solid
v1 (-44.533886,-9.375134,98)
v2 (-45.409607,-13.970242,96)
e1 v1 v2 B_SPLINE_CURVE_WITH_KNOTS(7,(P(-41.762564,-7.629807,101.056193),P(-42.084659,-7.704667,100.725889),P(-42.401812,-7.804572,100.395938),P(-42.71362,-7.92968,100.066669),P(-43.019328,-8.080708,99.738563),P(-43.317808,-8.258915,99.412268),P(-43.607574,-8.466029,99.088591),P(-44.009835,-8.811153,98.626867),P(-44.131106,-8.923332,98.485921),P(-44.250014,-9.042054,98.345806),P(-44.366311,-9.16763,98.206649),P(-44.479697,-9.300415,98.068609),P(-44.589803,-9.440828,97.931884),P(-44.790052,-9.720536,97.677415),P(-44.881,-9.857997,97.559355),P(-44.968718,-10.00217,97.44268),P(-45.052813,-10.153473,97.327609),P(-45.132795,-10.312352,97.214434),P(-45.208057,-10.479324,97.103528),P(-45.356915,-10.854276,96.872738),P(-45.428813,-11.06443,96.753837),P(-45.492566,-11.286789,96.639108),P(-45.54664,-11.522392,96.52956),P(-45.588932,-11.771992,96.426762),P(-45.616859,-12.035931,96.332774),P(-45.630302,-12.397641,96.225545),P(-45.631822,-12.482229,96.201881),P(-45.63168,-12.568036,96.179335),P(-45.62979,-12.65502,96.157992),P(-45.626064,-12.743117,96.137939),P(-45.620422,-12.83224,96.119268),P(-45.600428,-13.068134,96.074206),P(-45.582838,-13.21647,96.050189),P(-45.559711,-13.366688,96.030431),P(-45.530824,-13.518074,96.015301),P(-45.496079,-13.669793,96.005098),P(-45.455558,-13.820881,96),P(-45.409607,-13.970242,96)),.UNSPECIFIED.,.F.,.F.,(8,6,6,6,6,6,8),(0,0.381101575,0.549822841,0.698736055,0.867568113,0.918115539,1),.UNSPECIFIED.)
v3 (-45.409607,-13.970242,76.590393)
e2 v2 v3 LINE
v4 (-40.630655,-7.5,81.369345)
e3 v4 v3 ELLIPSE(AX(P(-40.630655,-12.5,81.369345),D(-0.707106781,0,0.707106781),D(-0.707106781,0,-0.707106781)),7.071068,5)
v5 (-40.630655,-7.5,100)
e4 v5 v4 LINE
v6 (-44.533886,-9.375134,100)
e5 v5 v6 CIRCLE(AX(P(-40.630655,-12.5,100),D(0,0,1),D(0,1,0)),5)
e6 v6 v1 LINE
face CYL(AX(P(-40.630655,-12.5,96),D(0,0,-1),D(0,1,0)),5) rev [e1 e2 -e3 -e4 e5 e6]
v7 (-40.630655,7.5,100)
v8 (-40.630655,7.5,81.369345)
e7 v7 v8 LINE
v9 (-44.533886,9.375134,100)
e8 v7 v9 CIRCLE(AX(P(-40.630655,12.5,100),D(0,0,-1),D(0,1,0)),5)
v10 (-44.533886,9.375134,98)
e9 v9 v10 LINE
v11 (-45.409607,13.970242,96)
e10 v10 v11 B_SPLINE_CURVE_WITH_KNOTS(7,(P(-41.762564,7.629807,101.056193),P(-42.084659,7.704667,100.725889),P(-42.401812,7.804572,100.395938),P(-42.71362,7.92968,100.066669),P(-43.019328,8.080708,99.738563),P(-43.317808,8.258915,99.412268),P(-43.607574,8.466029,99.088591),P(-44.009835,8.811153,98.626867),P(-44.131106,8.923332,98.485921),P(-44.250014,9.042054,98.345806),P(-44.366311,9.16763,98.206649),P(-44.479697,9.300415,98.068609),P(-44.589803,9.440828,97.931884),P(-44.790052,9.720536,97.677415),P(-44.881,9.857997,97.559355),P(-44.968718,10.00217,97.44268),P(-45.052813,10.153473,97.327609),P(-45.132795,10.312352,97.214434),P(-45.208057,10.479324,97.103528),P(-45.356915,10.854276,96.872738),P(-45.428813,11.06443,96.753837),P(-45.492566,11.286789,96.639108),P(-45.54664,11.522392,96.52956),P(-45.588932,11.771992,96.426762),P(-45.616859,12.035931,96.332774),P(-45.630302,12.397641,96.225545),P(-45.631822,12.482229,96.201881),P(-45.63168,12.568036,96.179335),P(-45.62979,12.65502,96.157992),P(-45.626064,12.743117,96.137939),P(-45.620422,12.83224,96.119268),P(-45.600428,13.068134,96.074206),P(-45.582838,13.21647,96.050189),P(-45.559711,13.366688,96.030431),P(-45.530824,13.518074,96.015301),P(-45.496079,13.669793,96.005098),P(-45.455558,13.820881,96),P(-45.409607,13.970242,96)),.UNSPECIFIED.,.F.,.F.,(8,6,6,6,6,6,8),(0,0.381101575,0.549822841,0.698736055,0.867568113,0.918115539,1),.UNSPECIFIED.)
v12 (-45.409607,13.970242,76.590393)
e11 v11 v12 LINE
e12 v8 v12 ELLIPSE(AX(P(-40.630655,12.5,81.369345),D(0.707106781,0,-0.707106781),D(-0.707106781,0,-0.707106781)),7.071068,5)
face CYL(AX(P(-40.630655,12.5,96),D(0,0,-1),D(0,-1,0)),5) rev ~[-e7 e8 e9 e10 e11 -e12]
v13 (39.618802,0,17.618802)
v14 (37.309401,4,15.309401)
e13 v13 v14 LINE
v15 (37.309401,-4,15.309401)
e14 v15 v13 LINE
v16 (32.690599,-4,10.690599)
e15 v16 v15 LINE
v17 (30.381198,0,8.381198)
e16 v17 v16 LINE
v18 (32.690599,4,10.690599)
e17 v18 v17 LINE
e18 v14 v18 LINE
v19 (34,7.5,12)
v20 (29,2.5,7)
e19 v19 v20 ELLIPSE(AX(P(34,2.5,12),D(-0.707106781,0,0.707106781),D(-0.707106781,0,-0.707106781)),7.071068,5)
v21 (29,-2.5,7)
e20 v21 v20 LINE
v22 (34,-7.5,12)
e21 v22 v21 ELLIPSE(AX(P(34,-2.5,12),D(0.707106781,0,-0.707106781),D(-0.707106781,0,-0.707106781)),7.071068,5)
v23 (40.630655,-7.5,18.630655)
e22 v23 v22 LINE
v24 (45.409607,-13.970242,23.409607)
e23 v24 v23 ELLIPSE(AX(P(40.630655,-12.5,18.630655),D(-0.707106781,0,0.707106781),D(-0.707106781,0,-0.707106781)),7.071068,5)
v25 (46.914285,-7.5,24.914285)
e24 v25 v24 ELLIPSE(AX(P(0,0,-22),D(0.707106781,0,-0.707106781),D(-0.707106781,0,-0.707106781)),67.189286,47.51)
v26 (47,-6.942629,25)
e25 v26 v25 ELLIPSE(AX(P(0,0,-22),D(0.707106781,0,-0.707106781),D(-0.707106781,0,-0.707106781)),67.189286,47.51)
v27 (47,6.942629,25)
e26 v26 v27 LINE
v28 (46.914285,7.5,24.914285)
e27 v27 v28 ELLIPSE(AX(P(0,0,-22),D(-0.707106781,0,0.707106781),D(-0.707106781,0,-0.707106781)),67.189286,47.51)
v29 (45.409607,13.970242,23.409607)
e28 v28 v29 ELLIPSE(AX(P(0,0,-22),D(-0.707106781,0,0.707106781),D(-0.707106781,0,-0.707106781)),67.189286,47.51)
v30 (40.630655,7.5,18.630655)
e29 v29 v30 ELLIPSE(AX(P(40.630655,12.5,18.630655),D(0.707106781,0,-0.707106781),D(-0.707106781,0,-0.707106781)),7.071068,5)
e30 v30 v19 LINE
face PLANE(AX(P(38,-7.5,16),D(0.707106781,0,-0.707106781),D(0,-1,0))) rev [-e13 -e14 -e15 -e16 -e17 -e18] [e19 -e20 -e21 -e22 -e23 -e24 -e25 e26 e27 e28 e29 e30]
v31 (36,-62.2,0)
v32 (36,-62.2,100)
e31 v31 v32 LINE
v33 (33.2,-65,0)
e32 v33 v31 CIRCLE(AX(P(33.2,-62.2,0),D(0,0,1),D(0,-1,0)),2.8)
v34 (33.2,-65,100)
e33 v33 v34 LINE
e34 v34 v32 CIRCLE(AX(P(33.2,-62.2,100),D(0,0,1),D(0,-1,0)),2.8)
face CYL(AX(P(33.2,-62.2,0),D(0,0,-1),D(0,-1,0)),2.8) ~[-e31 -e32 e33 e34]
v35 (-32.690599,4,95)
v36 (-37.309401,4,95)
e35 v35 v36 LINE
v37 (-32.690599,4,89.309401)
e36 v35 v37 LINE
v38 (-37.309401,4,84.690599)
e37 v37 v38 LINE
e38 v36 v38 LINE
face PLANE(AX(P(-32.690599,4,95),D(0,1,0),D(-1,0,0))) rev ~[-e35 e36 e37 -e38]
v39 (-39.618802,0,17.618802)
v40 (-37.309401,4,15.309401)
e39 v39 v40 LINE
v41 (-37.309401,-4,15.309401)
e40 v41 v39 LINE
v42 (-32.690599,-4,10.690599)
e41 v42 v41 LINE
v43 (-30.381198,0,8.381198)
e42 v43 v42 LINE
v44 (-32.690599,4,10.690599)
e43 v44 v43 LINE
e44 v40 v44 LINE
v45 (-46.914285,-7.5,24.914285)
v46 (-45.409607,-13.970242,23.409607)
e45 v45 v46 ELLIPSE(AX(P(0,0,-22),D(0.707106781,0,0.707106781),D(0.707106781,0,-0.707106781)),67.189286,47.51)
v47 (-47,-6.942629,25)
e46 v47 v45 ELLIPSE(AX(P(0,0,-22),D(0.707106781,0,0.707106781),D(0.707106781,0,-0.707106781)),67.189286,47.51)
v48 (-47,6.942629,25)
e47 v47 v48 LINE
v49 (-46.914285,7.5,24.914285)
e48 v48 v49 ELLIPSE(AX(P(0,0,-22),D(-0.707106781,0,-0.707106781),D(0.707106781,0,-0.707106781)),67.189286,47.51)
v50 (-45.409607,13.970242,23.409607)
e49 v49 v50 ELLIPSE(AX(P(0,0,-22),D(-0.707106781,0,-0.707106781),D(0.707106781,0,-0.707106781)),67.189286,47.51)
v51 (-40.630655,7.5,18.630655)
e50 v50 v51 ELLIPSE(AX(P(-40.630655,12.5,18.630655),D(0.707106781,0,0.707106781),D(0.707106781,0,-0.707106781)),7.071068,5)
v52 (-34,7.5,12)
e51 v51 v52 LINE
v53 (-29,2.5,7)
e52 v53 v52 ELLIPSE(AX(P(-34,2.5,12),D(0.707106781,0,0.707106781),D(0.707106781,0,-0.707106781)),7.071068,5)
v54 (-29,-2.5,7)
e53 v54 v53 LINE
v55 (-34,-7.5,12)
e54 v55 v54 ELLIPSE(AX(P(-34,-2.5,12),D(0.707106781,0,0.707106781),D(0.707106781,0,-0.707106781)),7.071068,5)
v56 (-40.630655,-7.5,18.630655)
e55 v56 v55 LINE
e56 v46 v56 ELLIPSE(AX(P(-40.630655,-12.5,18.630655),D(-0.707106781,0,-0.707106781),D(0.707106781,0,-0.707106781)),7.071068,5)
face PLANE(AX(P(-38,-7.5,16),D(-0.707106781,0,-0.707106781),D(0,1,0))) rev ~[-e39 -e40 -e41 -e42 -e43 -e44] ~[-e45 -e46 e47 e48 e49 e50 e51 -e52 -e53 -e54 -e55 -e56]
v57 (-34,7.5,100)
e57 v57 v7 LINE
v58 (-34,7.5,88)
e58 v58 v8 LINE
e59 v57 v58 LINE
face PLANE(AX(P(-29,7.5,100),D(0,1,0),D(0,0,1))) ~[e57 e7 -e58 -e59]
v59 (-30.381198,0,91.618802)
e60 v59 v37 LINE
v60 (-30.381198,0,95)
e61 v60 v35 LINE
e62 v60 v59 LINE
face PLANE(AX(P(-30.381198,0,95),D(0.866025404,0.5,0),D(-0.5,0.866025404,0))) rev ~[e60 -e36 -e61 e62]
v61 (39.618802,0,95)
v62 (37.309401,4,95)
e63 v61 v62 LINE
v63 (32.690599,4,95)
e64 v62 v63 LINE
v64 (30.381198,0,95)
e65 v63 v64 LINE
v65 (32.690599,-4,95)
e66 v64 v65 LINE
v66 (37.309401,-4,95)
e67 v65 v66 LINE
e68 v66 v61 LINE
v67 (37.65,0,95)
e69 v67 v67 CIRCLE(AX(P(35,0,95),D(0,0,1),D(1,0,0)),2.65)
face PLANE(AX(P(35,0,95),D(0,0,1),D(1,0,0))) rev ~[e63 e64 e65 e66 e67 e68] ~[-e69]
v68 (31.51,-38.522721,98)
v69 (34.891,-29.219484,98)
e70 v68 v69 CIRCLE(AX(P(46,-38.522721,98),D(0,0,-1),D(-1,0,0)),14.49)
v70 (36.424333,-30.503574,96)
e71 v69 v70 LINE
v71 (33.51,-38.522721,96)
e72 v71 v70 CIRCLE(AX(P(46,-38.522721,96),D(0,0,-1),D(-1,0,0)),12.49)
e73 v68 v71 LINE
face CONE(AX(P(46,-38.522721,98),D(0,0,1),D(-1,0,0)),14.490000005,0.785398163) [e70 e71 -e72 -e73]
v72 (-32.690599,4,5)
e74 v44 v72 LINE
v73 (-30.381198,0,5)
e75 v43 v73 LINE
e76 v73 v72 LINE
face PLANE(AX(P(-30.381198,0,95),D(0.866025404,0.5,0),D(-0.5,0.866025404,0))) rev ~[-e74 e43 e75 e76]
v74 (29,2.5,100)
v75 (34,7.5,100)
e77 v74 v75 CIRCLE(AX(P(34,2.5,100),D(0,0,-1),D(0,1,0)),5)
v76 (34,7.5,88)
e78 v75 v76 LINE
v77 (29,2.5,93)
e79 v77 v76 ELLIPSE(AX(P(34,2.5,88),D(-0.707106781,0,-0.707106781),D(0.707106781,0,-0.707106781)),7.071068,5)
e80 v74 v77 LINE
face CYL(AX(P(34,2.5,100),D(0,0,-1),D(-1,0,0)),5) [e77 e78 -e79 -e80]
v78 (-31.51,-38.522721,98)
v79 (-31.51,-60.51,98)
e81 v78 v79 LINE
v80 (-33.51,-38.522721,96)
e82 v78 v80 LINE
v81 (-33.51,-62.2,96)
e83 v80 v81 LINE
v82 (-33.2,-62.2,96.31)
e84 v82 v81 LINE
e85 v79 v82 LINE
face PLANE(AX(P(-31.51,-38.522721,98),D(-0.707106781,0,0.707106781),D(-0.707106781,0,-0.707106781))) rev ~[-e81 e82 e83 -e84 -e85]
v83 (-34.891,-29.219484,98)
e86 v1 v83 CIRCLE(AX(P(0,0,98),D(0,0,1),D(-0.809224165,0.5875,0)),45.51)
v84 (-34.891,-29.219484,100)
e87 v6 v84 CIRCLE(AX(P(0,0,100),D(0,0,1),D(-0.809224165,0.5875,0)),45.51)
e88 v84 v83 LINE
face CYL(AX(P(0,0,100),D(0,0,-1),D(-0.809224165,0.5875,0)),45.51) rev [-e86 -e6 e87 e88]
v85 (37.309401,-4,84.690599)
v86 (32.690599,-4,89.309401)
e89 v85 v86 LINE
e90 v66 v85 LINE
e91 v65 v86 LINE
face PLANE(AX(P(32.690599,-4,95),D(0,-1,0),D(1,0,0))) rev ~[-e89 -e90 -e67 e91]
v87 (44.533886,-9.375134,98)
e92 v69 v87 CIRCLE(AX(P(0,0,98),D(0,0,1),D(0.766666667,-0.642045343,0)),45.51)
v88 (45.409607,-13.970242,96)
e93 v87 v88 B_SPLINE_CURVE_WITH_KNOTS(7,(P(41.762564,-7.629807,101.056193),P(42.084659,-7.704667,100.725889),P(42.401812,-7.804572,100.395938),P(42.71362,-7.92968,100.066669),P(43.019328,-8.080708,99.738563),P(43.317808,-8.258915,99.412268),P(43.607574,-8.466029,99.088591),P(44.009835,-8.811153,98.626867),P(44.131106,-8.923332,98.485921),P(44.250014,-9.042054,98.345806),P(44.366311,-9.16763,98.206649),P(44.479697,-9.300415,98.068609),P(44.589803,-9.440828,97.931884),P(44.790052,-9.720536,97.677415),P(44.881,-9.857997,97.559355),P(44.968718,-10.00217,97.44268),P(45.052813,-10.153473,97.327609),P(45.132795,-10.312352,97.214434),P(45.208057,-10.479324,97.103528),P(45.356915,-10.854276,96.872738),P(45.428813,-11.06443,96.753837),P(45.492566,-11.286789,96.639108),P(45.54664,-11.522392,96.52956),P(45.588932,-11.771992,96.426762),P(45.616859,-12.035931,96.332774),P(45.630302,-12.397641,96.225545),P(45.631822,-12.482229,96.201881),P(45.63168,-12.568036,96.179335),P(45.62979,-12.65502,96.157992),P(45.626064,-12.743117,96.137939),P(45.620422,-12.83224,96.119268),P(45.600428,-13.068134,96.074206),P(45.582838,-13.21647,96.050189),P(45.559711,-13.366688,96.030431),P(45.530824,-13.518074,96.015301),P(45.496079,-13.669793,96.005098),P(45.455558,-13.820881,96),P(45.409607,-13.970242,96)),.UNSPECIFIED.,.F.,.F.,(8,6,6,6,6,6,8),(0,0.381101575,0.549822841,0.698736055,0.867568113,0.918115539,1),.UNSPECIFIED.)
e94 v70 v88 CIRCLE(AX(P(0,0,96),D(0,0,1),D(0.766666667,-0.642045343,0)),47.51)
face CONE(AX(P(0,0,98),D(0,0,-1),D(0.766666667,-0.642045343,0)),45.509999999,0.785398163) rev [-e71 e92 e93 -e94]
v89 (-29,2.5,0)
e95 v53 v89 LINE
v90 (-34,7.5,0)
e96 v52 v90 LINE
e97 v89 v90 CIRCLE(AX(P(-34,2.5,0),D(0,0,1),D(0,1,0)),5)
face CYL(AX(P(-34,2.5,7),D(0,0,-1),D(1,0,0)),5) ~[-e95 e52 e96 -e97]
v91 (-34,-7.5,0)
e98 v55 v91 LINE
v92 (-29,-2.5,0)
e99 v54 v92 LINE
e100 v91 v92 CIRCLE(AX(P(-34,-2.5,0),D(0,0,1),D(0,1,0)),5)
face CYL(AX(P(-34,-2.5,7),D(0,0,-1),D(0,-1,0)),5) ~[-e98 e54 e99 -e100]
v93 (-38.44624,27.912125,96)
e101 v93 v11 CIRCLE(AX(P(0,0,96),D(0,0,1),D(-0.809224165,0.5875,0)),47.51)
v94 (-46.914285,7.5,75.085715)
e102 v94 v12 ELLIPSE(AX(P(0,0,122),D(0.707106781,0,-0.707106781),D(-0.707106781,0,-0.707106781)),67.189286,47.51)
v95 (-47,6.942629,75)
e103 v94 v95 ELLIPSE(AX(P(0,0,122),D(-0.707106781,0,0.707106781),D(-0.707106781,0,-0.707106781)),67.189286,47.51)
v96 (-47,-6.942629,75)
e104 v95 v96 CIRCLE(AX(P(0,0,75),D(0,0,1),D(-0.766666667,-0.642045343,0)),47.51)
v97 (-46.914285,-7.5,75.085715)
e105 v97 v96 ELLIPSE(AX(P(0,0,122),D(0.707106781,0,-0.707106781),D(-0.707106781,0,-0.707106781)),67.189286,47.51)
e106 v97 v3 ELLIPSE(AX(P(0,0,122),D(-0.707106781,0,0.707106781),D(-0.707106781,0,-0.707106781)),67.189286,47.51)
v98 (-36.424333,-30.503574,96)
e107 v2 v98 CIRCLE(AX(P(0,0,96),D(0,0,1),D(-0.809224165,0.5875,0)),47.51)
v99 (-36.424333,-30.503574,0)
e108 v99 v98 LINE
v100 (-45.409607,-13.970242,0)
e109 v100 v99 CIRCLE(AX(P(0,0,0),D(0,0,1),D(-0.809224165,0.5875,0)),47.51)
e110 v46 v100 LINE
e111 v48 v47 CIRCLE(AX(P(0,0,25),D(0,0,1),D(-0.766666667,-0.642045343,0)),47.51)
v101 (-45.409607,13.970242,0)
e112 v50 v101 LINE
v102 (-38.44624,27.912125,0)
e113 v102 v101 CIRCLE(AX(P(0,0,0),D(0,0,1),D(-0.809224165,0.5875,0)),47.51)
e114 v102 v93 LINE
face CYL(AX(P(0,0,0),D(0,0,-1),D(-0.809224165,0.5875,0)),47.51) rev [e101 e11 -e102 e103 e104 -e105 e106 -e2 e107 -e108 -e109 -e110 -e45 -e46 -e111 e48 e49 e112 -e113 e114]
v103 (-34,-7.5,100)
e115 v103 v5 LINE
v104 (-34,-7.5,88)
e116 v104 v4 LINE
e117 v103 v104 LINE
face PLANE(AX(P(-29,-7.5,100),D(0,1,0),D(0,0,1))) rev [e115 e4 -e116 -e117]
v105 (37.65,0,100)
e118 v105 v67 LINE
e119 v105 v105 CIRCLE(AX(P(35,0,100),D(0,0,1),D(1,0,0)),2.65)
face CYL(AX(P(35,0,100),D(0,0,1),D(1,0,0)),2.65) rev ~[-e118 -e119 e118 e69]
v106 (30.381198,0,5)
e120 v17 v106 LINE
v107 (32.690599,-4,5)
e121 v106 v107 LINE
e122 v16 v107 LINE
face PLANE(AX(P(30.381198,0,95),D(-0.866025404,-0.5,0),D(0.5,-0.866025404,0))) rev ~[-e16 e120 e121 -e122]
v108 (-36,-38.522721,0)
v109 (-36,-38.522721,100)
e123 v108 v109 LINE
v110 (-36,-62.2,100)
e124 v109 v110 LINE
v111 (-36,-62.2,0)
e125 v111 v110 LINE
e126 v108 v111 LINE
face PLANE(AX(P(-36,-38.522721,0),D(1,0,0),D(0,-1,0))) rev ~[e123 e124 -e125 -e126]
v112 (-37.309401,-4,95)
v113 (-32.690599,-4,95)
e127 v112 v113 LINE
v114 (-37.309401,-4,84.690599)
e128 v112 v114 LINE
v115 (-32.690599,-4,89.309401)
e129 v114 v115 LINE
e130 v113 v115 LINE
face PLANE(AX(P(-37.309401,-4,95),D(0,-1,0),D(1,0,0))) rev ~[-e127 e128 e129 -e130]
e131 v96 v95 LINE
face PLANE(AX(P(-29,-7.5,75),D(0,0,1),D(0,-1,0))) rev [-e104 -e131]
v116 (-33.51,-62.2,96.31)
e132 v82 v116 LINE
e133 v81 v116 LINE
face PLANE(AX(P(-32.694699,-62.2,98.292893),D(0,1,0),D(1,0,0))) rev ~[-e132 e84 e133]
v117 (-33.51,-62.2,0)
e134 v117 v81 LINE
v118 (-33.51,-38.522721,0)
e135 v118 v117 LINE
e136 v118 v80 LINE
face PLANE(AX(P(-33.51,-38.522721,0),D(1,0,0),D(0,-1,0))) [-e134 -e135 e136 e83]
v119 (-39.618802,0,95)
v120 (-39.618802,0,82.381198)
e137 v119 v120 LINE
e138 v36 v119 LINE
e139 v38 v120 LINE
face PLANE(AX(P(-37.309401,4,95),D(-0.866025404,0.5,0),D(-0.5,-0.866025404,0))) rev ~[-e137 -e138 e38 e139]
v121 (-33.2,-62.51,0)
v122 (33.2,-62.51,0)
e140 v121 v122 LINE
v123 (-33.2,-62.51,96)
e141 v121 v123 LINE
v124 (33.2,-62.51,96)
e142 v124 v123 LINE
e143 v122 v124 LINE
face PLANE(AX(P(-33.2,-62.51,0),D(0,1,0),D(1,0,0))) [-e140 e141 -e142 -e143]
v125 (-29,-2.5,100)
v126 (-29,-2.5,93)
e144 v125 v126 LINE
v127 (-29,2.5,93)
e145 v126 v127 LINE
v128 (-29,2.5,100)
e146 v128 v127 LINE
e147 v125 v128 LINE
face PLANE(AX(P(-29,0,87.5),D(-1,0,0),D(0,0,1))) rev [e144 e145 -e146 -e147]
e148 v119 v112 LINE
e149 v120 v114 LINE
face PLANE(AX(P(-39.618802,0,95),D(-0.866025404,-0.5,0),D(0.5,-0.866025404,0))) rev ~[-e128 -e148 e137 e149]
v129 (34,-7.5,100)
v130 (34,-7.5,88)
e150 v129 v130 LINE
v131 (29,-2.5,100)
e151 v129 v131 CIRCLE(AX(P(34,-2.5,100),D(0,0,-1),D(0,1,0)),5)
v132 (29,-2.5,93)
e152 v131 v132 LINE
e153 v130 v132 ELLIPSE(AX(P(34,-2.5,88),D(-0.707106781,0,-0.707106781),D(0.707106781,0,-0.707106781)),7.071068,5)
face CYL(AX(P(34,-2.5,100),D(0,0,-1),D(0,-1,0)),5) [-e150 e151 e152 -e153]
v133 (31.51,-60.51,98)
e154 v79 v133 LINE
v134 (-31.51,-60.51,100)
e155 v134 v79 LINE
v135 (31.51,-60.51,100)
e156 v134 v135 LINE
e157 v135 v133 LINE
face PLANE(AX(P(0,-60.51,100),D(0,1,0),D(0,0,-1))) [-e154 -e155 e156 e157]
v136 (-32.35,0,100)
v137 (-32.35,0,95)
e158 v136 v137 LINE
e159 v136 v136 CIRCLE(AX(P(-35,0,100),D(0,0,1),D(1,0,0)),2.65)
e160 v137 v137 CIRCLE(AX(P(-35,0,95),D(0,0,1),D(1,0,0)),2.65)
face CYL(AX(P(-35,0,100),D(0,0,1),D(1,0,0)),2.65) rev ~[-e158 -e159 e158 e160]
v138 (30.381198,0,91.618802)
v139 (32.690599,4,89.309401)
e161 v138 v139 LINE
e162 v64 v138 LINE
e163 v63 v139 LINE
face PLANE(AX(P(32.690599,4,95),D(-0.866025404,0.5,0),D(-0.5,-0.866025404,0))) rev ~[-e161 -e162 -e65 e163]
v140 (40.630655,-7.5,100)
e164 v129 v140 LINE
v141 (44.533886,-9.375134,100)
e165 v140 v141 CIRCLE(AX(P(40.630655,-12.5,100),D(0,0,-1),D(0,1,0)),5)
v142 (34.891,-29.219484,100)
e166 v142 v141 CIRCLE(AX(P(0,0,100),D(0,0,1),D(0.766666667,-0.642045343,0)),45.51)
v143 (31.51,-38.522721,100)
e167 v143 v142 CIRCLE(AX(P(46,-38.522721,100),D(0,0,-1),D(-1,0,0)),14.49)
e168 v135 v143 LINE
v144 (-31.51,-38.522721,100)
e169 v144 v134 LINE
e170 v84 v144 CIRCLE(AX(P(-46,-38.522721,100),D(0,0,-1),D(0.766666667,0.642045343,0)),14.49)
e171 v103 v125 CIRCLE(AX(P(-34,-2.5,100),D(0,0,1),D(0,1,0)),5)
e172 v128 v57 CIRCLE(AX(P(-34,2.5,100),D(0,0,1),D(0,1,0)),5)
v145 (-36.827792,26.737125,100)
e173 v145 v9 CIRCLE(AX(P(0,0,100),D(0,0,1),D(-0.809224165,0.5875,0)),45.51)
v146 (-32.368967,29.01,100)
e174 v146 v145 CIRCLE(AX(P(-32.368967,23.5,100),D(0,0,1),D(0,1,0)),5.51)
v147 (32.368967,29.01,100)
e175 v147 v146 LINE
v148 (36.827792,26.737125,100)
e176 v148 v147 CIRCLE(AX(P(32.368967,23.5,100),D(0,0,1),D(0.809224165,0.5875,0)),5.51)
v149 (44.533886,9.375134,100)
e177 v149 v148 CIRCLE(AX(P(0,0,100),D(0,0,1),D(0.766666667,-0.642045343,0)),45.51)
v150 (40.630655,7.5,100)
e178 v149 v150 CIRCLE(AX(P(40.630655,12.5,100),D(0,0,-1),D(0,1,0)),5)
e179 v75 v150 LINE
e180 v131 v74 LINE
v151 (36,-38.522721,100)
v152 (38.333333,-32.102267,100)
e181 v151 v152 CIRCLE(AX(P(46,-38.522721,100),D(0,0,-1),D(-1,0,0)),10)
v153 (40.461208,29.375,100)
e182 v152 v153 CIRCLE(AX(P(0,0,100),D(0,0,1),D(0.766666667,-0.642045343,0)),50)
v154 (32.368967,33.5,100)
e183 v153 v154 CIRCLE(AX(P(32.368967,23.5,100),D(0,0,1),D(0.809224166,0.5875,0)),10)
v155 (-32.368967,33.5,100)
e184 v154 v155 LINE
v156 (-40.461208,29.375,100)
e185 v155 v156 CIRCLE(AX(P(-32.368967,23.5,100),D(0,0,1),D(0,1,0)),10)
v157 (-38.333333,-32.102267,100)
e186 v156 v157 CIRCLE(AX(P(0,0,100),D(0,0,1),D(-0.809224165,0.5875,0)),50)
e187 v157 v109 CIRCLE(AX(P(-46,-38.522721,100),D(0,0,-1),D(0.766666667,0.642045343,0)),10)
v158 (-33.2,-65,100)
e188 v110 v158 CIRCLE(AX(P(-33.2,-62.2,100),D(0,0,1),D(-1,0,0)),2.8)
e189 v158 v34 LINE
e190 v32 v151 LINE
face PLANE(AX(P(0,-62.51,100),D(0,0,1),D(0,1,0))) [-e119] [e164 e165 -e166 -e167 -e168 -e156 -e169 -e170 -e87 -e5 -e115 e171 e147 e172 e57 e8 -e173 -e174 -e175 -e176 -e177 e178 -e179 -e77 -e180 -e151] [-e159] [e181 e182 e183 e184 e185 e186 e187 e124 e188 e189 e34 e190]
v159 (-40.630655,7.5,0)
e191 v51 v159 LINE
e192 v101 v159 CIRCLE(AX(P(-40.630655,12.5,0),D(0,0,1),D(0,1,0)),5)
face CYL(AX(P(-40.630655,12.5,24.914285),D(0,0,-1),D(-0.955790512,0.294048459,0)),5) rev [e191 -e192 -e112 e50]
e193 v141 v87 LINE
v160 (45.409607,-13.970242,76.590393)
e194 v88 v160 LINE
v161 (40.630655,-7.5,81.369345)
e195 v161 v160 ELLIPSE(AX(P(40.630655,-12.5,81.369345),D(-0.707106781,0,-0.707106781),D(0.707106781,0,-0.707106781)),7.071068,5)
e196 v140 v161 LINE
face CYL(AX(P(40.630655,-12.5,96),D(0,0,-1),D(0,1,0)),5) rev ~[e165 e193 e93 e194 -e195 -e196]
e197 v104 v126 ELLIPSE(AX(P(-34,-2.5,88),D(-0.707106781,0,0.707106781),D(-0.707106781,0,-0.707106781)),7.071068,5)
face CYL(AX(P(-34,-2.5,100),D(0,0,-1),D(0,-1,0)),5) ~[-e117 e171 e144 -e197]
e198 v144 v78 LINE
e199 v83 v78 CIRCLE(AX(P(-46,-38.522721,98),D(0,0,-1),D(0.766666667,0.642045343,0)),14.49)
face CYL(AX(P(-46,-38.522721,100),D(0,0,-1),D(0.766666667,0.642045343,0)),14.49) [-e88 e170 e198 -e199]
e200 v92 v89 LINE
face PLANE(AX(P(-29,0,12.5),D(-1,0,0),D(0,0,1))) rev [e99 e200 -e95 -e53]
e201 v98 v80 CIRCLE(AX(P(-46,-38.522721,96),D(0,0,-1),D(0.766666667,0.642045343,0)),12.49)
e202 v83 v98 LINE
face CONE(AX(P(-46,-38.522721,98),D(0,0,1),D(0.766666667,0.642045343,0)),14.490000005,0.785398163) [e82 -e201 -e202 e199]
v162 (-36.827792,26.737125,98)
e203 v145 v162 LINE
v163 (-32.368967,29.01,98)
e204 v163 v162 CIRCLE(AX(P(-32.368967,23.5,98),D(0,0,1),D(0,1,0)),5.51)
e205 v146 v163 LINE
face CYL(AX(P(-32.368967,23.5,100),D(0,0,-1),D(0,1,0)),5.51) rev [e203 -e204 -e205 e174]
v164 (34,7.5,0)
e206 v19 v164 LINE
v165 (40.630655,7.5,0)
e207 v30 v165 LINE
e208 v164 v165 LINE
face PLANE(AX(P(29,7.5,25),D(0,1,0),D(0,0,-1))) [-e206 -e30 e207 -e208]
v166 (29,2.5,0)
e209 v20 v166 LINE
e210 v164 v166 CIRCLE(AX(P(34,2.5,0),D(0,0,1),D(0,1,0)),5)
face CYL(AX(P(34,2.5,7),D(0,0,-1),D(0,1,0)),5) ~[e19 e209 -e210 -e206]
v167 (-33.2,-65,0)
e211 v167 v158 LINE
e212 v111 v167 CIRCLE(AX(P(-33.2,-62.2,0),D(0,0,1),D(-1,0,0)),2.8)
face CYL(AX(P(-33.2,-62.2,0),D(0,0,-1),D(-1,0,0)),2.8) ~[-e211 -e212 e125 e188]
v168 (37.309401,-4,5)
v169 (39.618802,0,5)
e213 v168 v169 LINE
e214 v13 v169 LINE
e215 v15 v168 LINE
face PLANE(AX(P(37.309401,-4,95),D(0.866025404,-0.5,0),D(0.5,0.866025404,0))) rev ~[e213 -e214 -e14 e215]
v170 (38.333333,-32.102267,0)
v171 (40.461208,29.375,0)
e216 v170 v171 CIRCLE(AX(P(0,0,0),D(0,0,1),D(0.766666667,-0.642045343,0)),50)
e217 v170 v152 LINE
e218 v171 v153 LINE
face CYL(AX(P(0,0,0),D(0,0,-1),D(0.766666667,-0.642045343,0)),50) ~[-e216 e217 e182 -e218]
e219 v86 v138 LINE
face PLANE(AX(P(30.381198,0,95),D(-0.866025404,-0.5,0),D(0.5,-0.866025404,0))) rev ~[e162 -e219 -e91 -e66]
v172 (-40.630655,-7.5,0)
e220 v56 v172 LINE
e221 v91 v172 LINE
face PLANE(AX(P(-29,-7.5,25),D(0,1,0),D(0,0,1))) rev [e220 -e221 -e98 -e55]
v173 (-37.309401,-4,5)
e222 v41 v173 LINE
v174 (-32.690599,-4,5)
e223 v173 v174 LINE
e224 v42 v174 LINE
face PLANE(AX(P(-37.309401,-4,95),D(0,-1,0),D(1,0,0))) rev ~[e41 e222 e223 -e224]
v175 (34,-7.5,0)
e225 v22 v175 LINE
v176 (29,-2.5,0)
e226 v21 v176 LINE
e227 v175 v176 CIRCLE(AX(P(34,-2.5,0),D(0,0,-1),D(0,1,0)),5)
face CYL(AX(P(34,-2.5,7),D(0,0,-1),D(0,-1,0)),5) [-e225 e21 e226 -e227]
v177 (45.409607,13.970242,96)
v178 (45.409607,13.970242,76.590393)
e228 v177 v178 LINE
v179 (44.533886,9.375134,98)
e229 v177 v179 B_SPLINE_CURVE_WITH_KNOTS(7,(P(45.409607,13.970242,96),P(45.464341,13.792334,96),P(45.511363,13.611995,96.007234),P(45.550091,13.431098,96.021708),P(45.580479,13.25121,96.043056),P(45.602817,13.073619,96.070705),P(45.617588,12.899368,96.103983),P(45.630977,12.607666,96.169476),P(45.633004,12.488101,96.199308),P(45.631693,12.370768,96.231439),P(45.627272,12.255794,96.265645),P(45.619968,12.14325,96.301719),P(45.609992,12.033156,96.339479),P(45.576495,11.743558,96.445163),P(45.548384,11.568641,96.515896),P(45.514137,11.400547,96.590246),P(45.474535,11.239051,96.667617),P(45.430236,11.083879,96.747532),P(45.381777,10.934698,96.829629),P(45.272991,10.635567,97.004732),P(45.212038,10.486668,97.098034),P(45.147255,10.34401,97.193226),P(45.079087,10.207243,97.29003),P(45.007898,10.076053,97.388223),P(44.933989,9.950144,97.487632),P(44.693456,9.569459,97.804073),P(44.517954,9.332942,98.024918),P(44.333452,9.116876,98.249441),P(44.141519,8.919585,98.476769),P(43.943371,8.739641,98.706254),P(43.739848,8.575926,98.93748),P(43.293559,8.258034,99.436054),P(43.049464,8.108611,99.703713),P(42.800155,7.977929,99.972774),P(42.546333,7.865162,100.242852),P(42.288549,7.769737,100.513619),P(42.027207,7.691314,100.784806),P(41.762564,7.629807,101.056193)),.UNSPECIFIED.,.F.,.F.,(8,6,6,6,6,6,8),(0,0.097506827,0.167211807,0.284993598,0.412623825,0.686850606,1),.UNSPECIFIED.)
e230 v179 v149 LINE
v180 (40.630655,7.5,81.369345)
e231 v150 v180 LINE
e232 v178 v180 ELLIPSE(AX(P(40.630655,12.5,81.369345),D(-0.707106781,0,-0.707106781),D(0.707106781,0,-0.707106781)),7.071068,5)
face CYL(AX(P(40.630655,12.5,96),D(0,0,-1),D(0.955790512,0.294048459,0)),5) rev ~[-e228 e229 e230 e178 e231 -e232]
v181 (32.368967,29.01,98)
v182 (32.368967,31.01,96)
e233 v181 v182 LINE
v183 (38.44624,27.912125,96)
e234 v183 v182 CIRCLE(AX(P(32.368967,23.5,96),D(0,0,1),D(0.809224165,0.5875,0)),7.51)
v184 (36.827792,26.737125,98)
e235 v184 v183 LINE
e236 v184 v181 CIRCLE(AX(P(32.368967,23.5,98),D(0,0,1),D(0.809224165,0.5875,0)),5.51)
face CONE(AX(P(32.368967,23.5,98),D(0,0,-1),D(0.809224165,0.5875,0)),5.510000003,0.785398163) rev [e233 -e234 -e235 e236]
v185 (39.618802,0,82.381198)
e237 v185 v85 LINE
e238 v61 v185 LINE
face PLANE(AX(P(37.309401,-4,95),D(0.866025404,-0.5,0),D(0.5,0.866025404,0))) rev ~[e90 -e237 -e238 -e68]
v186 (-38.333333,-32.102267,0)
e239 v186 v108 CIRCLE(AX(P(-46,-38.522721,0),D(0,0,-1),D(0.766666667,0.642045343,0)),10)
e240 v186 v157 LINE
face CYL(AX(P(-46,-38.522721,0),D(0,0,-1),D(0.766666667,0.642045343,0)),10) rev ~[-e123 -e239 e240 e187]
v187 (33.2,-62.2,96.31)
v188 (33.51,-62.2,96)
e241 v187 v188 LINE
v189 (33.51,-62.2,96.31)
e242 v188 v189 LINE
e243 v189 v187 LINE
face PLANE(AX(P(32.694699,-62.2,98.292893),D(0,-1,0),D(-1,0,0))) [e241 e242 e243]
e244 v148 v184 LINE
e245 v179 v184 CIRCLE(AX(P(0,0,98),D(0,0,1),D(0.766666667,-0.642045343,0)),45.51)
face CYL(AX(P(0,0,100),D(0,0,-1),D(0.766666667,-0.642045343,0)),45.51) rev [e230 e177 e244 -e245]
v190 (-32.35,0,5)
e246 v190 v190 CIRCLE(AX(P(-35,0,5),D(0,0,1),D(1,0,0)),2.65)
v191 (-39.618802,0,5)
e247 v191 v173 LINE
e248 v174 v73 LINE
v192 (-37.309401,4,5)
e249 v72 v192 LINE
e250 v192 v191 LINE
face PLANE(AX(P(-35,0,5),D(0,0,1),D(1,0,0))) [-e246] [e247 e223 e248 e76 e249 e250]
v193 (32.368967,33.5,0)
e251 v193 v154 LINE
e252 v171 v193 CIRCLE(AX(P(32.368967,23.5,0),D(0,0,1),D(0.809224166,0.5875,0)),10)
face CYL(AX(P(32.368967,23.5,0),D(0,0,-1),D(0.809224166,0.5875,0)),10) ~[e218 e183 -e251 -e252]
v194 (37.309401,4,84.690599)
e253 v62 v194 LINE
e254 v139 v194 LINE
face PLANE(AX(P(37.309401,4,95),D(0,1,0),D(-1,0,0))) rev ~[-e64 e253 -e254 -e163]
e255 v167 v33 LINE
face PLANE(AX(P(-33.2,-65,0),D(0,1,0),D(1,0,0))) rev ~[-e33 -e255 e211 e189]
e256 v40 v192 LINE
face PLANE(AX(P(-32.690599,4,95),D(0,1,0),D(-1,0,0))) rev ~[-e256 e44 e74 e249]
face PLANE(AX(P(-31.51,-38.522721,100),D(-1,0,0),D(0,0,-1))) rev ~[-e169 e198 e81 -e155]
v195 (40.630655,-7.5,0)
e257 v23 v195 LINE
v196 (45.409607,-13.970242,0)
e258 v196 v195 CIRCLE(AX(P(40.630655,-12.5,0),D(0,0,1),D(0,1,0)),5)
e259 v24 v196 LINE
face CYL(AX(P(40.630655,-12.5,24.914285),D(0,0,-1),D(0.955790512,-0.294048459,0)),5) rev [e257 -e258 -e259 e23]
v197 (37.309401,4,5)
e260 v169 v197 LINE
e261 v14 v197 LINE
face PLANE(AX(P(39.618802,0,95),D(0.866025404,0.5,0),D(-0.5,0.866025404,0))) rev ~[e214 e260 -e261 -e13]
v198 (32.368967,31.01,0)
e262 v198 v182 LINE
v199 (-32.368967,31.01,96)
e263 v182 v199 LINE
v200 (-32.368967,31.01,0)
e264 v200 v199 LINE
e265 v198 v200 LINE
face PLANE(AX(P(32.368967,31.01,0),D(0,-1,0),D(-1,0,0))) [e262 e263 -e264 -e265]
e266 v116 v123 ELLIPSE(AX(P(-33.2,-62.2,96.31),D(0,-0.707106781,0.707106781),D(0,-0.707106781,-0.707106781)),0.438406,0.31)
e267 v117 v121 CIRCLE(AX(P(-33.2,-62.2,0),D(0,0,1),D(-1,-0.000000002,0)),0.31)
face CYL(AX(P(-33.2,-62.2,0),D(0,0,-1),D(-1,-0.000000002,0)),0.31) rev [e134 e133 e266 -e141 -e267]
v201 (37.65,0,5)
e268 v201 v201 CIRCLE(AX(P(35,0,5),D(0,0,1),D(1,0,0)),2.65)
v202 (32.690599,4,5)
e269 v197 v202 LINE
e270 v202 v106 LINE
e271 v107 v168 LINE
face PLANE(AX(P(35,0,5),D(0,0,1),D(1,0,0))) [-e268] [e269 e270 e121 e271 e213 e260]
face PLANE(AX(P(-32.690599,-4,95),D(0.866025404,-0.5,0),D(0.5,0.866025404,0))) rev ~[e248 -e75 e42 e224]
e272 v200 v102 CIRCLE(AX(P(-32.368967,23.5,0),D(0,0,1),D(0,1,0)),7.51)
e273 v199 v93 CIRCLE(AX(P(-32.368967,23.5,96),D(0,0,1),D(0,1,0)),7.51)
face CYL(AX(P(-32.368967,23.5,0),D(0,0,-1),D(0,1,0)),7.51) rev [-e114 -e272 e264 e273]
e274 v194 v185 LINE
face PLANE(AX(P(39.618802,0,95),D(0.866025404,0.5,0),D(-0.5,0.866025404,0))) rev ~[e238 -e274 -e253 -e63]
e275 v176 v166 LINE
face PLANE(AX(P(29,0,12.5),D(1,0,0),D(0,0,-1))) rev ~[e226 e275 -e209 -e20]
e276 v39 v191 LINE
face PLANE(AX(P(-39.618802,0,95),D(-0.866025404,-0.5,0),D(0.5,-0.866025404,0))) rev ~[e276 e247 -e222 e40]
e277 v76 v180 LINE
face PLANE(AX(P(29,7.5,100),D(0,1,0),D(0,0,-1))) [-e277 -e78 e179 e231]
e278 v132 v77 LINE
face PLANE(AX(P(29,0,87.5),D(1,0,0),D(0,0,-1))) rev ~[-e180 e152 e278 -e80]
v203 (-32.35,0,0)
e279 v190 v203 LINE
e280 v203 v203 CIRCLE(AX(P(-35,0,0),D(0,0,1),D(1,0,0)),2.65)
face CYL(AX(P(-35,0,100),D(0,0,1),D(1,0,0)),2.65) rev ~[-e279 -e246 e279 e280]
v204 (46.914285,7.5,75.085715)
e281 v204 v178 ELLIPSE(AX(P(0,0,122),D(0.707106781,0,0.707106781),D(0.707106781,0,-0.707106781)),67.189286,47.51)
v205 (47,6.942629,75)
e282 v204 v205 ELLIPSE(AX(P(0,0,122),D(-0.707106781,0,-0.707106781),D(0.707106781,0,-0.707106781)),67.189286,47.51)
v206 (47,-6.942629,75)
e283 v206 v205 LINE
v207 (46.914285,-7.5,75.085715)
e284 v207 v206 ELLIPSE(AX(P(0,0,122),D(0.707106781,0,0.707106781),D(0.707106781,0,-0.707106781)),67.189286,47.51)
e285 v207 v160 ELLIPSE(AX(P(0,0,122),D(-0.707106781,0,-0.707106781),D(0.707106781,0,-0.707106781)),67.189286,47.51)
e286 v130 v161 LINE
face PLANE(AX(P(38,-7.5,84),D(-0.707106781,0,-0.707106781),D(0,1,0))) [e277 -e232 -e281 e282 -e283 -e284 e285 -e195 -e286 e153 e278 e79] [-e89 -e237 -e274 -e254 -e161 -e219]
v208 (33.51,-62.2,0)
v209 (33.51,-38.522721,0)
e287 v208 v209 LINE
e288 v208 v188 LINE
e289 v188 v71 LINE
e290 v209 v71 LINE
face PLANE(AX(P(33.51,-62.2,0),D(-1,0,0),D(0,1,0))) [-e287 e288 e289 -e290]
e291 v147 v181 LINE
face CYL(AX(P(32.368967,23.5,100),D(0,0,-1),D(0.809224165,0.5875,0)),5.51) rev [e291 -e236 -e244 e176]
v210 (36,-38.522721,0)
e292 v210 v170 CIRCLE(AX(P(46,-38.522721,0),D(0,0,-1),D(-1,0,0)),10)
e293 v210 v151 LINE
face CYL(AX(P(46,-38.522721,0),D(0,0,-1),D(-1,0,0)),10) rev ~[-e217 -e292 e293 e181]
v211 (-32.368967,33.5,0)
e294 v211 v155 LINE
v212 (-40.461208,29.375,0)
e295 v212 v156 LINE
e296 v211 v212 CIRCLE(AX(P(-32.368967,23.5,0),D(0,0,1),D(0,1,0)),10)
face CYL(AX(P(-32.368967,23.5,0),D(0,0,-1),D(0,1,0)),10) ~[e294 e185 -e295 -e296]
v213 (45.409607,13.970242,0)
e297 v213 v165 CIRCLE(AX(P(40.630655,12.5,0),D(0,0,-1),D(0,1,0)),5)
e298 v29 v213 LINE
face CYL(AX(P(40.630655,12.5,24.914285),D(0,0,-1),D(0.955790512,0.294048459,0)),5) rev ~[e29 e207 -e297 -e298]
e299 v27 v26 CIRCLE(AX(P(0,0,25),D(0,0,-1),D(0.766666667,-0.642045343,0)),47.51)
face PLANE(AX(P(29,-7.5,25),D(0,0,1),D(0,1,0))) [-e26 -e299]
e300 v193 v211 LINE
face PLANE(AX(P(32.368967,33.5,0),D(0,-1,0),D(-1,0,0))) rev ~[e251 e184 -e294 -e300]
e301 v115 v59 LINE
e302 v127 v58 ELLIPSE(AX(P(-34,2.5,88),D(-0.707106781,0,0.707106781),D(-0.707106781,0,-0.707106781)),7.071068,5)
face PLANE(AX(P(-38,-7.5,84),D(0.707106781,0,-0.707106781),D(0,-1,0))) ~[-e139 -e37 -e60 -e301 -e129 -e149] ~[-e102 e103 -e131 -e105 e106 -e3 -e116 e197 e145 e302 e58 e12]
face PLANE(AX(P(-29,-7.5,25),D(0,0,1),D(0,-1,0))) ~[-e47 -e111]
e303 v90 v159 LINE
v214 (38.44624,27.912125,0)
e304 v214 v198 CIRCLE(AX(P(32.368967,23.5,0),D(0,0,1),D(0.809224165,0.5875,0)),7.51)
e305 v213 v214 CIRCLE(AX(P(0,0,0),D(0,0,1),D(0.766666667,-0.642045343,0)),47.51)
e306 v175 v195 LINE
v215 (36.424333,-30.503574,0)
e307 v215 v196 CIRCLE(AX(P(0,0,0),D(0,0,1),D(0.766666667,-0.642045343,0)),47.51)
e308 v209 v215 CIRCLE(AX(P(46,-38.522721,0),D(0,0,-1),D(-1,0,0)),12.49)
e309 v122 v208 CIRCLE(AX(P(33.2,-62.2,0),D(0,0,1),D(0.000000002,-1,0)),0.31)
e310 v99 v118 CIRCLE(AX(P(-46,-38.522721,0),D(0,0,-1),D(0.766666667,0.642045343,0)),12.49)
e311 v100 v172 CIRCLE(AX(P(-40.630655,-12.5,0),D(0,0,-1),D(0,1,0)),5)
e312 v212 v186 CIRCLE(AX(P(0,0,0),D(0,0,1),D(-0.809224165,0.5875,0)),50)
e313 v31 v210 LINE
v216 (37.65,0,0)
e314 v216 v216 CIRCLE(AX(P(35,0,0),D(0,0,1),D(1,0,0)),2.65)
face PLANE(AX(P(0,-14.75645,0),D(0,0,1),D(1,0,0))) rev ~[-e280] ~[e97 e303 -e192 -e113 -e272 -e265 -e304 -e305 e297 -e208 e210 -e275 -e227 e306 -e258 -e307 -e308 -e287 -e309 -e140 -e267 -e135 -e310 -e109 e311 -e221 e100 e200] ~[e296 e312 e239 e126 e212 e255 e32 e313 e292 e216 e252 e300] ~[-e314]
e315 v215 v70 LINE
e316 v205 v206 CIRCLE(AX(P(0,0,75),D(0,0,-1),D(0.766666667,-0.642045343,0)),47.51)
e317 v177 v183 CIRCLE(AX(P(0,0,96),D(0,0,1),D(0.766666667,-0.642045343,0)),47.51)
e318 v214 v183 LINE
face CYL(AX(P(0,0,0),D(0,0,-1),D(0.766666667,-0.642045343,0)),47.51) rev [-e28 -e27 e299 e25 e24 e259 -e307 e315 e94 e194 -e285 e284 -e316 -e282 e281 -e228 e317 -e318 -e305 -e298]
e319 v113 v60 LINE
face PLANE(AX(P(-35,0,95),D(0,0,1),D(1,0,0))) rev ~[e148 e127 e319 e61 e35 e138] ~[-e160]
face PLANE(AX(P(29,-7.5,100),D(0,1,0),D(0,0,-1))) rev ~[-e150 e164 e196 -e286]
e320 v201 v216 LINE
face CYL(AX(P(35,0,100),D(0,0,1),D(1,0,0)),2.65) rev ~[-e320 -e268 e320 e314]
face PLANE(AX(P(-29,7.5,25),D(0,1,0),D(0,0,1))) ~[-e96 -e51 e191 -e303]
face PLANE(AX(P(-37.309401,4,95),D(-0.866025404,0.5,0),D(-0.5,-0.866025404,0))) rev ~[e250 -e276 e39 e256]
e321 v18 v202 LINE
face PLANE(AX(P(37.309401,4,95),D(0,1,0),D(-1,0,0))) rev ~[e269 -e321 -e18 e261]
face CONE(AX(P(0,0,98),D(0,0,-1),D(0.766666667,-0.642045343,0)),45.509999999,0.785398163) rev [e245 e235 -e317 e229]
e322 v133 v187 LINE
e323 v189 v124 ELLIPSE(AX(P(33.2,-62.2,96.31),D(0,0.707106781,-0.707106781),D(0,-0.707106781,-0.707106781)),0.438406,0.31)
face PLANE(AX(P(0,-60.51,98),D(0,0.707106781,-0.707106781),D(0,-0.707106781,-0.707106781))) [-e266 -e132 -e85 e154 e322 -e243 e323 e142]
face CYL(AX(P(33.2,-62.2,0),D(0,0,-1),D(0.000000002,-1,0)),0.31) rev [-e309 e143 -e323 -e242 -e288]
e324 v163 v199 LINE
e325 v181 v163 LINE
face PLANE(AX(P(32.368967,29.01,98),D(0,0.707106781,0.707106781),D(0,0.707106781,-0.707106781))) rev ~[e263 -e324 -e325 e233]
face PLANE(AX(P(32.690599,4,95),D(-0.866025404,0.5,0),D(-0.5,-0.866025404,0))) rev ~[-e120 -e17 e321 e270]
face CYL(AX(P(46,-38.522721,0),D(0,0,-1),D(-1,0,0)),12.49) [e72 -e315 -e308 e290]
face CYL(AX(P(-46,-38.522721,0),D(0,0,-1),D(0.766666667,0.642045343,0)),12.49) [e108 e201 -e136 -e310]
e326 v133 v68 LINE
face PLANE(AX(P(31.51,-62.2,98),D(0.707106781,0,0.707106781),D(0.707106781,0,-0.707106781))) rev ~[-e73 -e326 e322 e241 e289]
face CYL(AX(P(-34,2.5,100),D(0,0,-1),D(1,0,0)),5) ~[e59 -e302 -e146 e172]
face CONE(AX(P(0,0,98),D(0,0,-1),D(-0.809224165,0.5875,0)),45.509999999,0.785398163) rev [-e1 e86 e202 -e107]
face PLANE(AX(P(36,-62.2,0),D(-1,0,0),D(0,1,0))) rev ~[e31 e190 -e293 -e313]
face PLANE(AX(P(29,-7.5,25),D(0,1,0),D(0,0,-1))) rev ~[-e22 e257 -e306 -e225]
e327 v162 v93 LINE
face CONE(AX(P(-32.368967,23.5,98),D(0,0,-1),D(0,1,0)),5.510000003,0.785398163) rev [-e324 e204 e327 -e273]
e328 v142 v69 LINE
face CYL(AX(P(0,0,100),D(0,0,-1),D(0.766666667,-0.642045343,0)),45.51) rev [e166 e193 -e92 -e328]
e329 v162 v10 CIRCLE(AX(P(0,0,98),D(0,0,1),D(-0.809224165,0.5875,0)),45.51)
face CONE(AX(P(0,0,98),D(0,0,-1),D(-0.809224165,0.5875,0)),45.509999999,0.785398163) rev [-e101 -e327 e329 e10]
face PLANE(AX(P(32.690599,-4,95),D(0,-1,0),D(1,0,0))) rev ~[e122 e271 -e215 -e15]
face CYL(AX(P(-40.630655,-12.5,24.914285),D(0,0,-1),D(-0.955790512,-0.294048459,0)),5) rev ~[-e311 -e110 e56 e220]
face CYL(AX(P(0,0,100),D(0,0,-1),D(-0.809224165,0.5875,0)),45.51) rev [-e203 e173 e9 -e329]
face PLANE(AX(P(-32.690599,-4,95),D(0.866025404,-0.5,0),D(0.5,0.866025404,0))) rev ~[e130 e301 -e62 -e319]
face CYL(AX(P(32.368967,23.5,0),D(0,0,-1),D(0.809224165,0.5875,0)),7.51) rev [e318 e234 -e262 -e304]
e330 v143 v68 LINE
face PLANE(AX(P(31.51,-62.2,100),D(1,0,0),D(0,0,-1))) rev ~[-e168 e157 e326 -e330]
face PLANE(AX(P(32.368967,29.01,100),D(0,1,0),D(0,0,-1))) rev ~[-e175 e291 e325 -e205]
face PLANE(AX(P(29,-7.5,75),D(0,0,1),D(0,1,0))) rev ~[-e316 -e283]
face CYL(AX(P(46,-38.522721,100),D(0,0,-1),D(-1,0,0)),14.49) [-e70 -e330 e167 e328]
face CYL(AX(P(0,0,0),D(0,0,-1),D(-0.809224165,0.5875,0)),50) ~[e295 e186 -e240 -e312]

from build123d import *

# Parameters (mm, degrees)
LINEAR_AUSTRAGEN_D_NN1_DEPTH                = 100
AUFSATZ_LINEAR_AUSTRAGEN3_REACH             = 160.325
AUFSATZ_LINEAR_START                        = 29
SKIZZE6_W                                   = 25
SKIZZE6_H                                   = 15
FASE1_SIZE                                  = 18
SKIZZE7_R                                   = 2.65
SCHNITT_LINEAR_AUSTRAGEN3_DEPTH             = 130.325171564
SCHNITT_LINEAR_START                        = -5
SCHNITT_LINEAR_AUSTRAGEN5_DEPTH             = 90
VERRUNDUNG1_R                               = 5
AUFSATZ_LINEAR_AUSTRAGEN5_REACH             = 131.325
AUFSATZ_LINEAR_AUSTRAGEN5_DIRECTION_2_REACH = 131.325


with BuildPart() as part:
    # Skizze1 → Linear-Austragen-Dünn1 (new body)
    with BuildSketch(Plane.XY):
        with BuildLine():
            Line((-33.2, -65), (0, -65))
            Line((0, -65), (33.2, -65))
            ThreePointArc((33.2, -65), (35.179898987, -64.179898987), (36, -62.2))
            Line((36, -62.2), (36, -38.522720569))
            ThreePointArc((36, -38.522720569), (36.601418547, -35.107070313), (38.333333333, -32.10226714))
            ThreePointArc((38.333333333, -32.10226714), (49.970076451, -1.729583607), (40.461208274, 29.375))
            ThreePointArc((40.461208274, 29.375), (36.91044215, 32.409264841), (32.368966619, 33.5))
            Line((32.368966619, 33.5), (0, 33.5))
            Line((0, 33.5), (-32.368966619, 33.5))
            ThreePointArc((-32.368966619, 33.5), (-36.91044215, 32.409264841), (-40.461208274, 29.375))
            ThreePointArc((-40.461208274, 29.375), (-49.970076451, -1.729583607), (-38.333333333, -32.10226714))
            ThreePointArc((-38.333333333, -32.10226714), (-36.601418547, -35.107070313), (-36, -38.522720569))
            Line((-36, -38.522720569), (-36, -62.2))
            ThreePointArc((-36, -62.2), (-35.179898987, -64.179898987), (-33.2, -65))
        make_face()
        with BuildLine():
            Line((-33.2, -62.51), (0, -62.51))
            Line((0, -62.51), (33.2, -62.51))
            ThreePointArc((33.2, -62.51), (33.419203102, -62.419203102), (33.51, -62.2))
            Line((33.51, -62.2), (33.51, -38.522720569))
            ThreePointArc((33.51, -38.522720569), (34.261171765, -34.2565734), (36.424333333, -30.503574237))
            ThreePointArc((36.424333333, -30.503574237), (47.481566644, -1.643450344), (38.446240102, 27.912125))
            ThreePointArc((38.446240102, 27.912125), (35.779614743, 30.190857895), (32.368966619, 31.01))
            Line((32.368966619, 31.01), (0, 31.01))
            Line((0, 31.01), (-32.368966619, 31.01))
            ThreePointArc((-32.368966619, 31.01), (-35.779614743, 30.190857895), (-38.446240102, 27.912125))
            ThreePointArc((-38.446240102, 27.912125), (-47.481566644, -1.643450344), (-36.424333333, -30.503574237))
            ThreePointArc((-36.424333333, -30.503574237), (-34.261171765, -34.2565734), (-33.51, -38.522720569))
            Line((-33.51, -38.522720569), (-33.51, -62.2))
            ThreePointArc((-33.51, -62.2), (-33.419203102, -62.419203102), (-33.2, -62.51))
        make_face(mode=Mode.SUBTRACT)
    extrude(amount=LINEAR_AUSTRAGEN_D_NN1_DEPTH)

    # Austragung2: sweep along a path in Skizze16
    with BuildLine(Plane.XY.offset(100)) as austragung2_path:
        Line((33.51, -62.2), (33.51, -38.522720569))
        ThreePointArc((33.51, -38.522720569), (34.261171765, -34.2565734), (36.424333333, -30.503574237))
        ThreePointArc((36.424333333, -30.503574237), (47.481566644, -1.643450344), (38.446240102, 27.912125))
        ThreePointArc((38.446240102, 27.912125), (35.779614743, 30.190857895), (32.368966619, 31.01))
        Line((32.368966619, 31.01), (-32.368966619, 31.01))
        ThreePointArc((-32.368966619, 31.01), (-35.779614743, 30.190857895), (-38.446240102, 27.912125))
        ThreePointArc((-38.446240102, 27.912125), (-47.481566644, -1.643450344), (-36.424333333, -30.503574237))
        ThreePointArc((-36.424333333, -30.503574237), (-34.261171765, -34.2565734), (-33.51, -38.522720569))
        Line((-33.51, -38.522720569), (-33.51, -62.2))
    # Skizze17 → Austragung2 (sweep)
    with BuildSketch(Plane(origin=(0, 0, 0), x_dir=(0, 0, -1), z_dir=(1, 0, 0))):
        Polygon((-100, 31.01), (-100, 29.01), (-98, 29.01), (-96, 31.01), align=None)
    sweep(path=austragung2_path.line)

    # Skizze6 → Aufsatz-Linear austragen3 (add, up to next)
    with BuildSketch(Plane(origin=(0, 0, 0), x_dir=(0, 0, -1), z_dir=(1, 0, 0)).offset(AUFSATZ_LINEAR_START), mode=Mode.PRIVATE) as aufsatz_linear_austragen3_sk1:
        with Locations((-87.5, 0)):
            Rectangle(SKIZZE6_W, SKIZZE6_H)
    aufsatz_linear_austragen3_tool1 = extrude(aufsatz_linear_austragen3_sk1.sketch, amount=AUFSATZ_LINEAR_AUSTRAGEN3_REACH, mode=Mode.PRIVATE) - part.part
    # Skizze6 → Aufsatz-Linear austragen3 (add, up to next)
    with BuildSketch(Plane(origin=(0, 0, 0), x_dir=(0, 0, -1), z_dir=(1, 0, 0)).offset(AUFSATZ_LINEAR_START), mode=Mode.PRIVATE) as aufsatz_linear_austragen3_sk2:
        with Locations((-12.5, 0)):
            Rectangle(SKIZZE6_W, SKIZZE6_H)
    aufsatz_linear_austragen3_tool2 = extrude(aufsatz_linear_austragen3_sk2.sketch, amount=AUFSATZ_LINEAR_AUSTRAGEN3_REACH, mode=Mode.PRIVATE) - part.part
    aufsatz_linear_austragen3_1 = aufsatz_linear_austragen3_tool1.solids().sort_by_distance((29, 0, 87.5))[0]
    add(aufsatz_linear_austragen3_1)
    aufsatz_linear_austragen3_2 = aufsatz_linear_austragen3_tool2.solids().sort_by_distance((29, 0, 12.5))[0]
    add(aufsatz_linear_austragen3_2)
    aufsatz_linear_austragen3 = aufsatz_linear_austragen3_1 + aufsatz_linear_austragen3_2  # Aufsatz-Linear austragen3 as one shape, for the pattern or mirror that repeats it

    # Spiegeln1: Aufsatz-Linear austragen3 across plane
    add(aufsatz_linear_austragen3.mirror(Plane(origin=(0, 0, 0), x_dir=(0, 0, 1), z_dir=(1, 0, 0))))

    # Fase1
    fase1_edges = [part.edges().sort_by_distance(p)[0] for p in [
        (29, 0, 75),
        (-29, 0, 75),
        (29, 0, 25),
        (-29, 0, 25),
    ]]
    chamfer(fase1_edges, length=FASE1_SIZE)

    # Skizze7 → Schnitt-Linear austragen3 (cut, through all)
    with BuildSketch(Plane.XY.offset(100)):
        with Locations((-35, 0)):
            Circle(SKIZZE7_R)
        with Locations((35, 0)):
            Circle(SKIZZE7_R)
    extrude(amount=-SCHNITT_LINEAR_AUSTRAGEN3_DEPTH, mode=Mode.SUBTRACT)

    # Skizze9 → Schnitt-Linear austragen5 (cut)
    with BuildSketch(Plane.XY.offset(100).offset(SCHNITT_LINEAR_START)):
        Polygon((-39.618802154, 0), (-37.309401077, -4), (-32.690598923, -4), (-30.381197846, 0), (-32.690598923, 4), (-37.309401077, 4), align=None)
        Polygon((30.381197846, 0), (32.690598923, -4), (37.309401077, -4), (39.618802154, 0), (37.309401077, 4), (32.690598923, 4), align=None)
    extrude(amount=-SCHNITT_LINEAR_AUSTRAGEN5_DEPTH, mode=Mode.SUBTRACT)

    # Verrundung1
    verrundung1_edges = [part.edges().sort_by_distance(p)[0] for p in [
        (-46.914284605, 7.5, 85.542857697),
        (-29, 7.5, 96.5),
        (-29, -7.5, 96.5),
        (-46.914284605, -7.5, 85.542857697),
        (46.914284605, -7.5, 85.542857697),
        (29, -7.5, 96.5),
        (29, 7.5, 96.5),
        (46.914284605, 7.5, 85.542857697),
        (-46.914284605, -7.5, 12.457142303),
        (-29, -7.5, 3.5),
        (-29, 7.5, 3.5),
        (-46.914284605, 7.5, 12.457142303),
        (46.914284605, -7.5, 12.457142303),
        (29, -7.5, 3.5),
        (29, 7.5, 3.5),
        (46.914284605, 7.5, 12.457142303),
    ]]
    fillet(verrundung1_edges, radius=VERRUNDUNG1_R)

    # Skizze17<3> → Aufsatz-Linear austragen5 (add, up to next)
    with BuildSketch(Plane(origin=(0, 0, 0), x_dir=(0, 0, -1), z_dir=(1, 0, 0)), mode=Mode.PRIVATE) as aufsatz_linear_austragen5_sk1:
        Polygon((-98, -60.51), (-96, -62.51), (-100, -62.51), (-100, -60.51), align=None)
    aufsatz_linear_austragen5_tool1 = extrude(aufsatz_linear_austragen5_sk1.sketch, amount=-AUFSATZ_LINEAR_AUSTRAGEN5_REACH, mode=Mode.PRIVATE) - part.part
    add(aufsatz_linear_austragen5_tool1.solids().sort_by_distance((0, -61.621111, 98.444444))[0])

    # Skizze17<3> → Aufsatz-Linear austragen5 direction 2 (add, up to next)
    with BuildSketch(Plane(origin=(0, 0, 0), x_dir=(0, 0, -1), z_dir=(1, 0, 0)), mode=Mode.PRIVATE) as aufsatz_linear_austragen5_direction_2_sk1:
        Polygon((-98, -60.51), (-96, -62.51), (-100, -62.51), (-100, -60.51), align=None)
    aufsatz_linear_austragen5_direction_2_tool1 = extrude(aufsatz_linear_austragen5_direction_2_sk1.sketch, amount=AUFSATZ_LINEAR_AUSTRAGEN5_DIRECTION_2_REACH, mode=Mode.PRIVATE) - part.part
    add(aufsatz_linear_austragen5_direction_2_tool1.solids().sort_by_distance((0, -61.621111, 98.444444))[0])


solid = part.part
